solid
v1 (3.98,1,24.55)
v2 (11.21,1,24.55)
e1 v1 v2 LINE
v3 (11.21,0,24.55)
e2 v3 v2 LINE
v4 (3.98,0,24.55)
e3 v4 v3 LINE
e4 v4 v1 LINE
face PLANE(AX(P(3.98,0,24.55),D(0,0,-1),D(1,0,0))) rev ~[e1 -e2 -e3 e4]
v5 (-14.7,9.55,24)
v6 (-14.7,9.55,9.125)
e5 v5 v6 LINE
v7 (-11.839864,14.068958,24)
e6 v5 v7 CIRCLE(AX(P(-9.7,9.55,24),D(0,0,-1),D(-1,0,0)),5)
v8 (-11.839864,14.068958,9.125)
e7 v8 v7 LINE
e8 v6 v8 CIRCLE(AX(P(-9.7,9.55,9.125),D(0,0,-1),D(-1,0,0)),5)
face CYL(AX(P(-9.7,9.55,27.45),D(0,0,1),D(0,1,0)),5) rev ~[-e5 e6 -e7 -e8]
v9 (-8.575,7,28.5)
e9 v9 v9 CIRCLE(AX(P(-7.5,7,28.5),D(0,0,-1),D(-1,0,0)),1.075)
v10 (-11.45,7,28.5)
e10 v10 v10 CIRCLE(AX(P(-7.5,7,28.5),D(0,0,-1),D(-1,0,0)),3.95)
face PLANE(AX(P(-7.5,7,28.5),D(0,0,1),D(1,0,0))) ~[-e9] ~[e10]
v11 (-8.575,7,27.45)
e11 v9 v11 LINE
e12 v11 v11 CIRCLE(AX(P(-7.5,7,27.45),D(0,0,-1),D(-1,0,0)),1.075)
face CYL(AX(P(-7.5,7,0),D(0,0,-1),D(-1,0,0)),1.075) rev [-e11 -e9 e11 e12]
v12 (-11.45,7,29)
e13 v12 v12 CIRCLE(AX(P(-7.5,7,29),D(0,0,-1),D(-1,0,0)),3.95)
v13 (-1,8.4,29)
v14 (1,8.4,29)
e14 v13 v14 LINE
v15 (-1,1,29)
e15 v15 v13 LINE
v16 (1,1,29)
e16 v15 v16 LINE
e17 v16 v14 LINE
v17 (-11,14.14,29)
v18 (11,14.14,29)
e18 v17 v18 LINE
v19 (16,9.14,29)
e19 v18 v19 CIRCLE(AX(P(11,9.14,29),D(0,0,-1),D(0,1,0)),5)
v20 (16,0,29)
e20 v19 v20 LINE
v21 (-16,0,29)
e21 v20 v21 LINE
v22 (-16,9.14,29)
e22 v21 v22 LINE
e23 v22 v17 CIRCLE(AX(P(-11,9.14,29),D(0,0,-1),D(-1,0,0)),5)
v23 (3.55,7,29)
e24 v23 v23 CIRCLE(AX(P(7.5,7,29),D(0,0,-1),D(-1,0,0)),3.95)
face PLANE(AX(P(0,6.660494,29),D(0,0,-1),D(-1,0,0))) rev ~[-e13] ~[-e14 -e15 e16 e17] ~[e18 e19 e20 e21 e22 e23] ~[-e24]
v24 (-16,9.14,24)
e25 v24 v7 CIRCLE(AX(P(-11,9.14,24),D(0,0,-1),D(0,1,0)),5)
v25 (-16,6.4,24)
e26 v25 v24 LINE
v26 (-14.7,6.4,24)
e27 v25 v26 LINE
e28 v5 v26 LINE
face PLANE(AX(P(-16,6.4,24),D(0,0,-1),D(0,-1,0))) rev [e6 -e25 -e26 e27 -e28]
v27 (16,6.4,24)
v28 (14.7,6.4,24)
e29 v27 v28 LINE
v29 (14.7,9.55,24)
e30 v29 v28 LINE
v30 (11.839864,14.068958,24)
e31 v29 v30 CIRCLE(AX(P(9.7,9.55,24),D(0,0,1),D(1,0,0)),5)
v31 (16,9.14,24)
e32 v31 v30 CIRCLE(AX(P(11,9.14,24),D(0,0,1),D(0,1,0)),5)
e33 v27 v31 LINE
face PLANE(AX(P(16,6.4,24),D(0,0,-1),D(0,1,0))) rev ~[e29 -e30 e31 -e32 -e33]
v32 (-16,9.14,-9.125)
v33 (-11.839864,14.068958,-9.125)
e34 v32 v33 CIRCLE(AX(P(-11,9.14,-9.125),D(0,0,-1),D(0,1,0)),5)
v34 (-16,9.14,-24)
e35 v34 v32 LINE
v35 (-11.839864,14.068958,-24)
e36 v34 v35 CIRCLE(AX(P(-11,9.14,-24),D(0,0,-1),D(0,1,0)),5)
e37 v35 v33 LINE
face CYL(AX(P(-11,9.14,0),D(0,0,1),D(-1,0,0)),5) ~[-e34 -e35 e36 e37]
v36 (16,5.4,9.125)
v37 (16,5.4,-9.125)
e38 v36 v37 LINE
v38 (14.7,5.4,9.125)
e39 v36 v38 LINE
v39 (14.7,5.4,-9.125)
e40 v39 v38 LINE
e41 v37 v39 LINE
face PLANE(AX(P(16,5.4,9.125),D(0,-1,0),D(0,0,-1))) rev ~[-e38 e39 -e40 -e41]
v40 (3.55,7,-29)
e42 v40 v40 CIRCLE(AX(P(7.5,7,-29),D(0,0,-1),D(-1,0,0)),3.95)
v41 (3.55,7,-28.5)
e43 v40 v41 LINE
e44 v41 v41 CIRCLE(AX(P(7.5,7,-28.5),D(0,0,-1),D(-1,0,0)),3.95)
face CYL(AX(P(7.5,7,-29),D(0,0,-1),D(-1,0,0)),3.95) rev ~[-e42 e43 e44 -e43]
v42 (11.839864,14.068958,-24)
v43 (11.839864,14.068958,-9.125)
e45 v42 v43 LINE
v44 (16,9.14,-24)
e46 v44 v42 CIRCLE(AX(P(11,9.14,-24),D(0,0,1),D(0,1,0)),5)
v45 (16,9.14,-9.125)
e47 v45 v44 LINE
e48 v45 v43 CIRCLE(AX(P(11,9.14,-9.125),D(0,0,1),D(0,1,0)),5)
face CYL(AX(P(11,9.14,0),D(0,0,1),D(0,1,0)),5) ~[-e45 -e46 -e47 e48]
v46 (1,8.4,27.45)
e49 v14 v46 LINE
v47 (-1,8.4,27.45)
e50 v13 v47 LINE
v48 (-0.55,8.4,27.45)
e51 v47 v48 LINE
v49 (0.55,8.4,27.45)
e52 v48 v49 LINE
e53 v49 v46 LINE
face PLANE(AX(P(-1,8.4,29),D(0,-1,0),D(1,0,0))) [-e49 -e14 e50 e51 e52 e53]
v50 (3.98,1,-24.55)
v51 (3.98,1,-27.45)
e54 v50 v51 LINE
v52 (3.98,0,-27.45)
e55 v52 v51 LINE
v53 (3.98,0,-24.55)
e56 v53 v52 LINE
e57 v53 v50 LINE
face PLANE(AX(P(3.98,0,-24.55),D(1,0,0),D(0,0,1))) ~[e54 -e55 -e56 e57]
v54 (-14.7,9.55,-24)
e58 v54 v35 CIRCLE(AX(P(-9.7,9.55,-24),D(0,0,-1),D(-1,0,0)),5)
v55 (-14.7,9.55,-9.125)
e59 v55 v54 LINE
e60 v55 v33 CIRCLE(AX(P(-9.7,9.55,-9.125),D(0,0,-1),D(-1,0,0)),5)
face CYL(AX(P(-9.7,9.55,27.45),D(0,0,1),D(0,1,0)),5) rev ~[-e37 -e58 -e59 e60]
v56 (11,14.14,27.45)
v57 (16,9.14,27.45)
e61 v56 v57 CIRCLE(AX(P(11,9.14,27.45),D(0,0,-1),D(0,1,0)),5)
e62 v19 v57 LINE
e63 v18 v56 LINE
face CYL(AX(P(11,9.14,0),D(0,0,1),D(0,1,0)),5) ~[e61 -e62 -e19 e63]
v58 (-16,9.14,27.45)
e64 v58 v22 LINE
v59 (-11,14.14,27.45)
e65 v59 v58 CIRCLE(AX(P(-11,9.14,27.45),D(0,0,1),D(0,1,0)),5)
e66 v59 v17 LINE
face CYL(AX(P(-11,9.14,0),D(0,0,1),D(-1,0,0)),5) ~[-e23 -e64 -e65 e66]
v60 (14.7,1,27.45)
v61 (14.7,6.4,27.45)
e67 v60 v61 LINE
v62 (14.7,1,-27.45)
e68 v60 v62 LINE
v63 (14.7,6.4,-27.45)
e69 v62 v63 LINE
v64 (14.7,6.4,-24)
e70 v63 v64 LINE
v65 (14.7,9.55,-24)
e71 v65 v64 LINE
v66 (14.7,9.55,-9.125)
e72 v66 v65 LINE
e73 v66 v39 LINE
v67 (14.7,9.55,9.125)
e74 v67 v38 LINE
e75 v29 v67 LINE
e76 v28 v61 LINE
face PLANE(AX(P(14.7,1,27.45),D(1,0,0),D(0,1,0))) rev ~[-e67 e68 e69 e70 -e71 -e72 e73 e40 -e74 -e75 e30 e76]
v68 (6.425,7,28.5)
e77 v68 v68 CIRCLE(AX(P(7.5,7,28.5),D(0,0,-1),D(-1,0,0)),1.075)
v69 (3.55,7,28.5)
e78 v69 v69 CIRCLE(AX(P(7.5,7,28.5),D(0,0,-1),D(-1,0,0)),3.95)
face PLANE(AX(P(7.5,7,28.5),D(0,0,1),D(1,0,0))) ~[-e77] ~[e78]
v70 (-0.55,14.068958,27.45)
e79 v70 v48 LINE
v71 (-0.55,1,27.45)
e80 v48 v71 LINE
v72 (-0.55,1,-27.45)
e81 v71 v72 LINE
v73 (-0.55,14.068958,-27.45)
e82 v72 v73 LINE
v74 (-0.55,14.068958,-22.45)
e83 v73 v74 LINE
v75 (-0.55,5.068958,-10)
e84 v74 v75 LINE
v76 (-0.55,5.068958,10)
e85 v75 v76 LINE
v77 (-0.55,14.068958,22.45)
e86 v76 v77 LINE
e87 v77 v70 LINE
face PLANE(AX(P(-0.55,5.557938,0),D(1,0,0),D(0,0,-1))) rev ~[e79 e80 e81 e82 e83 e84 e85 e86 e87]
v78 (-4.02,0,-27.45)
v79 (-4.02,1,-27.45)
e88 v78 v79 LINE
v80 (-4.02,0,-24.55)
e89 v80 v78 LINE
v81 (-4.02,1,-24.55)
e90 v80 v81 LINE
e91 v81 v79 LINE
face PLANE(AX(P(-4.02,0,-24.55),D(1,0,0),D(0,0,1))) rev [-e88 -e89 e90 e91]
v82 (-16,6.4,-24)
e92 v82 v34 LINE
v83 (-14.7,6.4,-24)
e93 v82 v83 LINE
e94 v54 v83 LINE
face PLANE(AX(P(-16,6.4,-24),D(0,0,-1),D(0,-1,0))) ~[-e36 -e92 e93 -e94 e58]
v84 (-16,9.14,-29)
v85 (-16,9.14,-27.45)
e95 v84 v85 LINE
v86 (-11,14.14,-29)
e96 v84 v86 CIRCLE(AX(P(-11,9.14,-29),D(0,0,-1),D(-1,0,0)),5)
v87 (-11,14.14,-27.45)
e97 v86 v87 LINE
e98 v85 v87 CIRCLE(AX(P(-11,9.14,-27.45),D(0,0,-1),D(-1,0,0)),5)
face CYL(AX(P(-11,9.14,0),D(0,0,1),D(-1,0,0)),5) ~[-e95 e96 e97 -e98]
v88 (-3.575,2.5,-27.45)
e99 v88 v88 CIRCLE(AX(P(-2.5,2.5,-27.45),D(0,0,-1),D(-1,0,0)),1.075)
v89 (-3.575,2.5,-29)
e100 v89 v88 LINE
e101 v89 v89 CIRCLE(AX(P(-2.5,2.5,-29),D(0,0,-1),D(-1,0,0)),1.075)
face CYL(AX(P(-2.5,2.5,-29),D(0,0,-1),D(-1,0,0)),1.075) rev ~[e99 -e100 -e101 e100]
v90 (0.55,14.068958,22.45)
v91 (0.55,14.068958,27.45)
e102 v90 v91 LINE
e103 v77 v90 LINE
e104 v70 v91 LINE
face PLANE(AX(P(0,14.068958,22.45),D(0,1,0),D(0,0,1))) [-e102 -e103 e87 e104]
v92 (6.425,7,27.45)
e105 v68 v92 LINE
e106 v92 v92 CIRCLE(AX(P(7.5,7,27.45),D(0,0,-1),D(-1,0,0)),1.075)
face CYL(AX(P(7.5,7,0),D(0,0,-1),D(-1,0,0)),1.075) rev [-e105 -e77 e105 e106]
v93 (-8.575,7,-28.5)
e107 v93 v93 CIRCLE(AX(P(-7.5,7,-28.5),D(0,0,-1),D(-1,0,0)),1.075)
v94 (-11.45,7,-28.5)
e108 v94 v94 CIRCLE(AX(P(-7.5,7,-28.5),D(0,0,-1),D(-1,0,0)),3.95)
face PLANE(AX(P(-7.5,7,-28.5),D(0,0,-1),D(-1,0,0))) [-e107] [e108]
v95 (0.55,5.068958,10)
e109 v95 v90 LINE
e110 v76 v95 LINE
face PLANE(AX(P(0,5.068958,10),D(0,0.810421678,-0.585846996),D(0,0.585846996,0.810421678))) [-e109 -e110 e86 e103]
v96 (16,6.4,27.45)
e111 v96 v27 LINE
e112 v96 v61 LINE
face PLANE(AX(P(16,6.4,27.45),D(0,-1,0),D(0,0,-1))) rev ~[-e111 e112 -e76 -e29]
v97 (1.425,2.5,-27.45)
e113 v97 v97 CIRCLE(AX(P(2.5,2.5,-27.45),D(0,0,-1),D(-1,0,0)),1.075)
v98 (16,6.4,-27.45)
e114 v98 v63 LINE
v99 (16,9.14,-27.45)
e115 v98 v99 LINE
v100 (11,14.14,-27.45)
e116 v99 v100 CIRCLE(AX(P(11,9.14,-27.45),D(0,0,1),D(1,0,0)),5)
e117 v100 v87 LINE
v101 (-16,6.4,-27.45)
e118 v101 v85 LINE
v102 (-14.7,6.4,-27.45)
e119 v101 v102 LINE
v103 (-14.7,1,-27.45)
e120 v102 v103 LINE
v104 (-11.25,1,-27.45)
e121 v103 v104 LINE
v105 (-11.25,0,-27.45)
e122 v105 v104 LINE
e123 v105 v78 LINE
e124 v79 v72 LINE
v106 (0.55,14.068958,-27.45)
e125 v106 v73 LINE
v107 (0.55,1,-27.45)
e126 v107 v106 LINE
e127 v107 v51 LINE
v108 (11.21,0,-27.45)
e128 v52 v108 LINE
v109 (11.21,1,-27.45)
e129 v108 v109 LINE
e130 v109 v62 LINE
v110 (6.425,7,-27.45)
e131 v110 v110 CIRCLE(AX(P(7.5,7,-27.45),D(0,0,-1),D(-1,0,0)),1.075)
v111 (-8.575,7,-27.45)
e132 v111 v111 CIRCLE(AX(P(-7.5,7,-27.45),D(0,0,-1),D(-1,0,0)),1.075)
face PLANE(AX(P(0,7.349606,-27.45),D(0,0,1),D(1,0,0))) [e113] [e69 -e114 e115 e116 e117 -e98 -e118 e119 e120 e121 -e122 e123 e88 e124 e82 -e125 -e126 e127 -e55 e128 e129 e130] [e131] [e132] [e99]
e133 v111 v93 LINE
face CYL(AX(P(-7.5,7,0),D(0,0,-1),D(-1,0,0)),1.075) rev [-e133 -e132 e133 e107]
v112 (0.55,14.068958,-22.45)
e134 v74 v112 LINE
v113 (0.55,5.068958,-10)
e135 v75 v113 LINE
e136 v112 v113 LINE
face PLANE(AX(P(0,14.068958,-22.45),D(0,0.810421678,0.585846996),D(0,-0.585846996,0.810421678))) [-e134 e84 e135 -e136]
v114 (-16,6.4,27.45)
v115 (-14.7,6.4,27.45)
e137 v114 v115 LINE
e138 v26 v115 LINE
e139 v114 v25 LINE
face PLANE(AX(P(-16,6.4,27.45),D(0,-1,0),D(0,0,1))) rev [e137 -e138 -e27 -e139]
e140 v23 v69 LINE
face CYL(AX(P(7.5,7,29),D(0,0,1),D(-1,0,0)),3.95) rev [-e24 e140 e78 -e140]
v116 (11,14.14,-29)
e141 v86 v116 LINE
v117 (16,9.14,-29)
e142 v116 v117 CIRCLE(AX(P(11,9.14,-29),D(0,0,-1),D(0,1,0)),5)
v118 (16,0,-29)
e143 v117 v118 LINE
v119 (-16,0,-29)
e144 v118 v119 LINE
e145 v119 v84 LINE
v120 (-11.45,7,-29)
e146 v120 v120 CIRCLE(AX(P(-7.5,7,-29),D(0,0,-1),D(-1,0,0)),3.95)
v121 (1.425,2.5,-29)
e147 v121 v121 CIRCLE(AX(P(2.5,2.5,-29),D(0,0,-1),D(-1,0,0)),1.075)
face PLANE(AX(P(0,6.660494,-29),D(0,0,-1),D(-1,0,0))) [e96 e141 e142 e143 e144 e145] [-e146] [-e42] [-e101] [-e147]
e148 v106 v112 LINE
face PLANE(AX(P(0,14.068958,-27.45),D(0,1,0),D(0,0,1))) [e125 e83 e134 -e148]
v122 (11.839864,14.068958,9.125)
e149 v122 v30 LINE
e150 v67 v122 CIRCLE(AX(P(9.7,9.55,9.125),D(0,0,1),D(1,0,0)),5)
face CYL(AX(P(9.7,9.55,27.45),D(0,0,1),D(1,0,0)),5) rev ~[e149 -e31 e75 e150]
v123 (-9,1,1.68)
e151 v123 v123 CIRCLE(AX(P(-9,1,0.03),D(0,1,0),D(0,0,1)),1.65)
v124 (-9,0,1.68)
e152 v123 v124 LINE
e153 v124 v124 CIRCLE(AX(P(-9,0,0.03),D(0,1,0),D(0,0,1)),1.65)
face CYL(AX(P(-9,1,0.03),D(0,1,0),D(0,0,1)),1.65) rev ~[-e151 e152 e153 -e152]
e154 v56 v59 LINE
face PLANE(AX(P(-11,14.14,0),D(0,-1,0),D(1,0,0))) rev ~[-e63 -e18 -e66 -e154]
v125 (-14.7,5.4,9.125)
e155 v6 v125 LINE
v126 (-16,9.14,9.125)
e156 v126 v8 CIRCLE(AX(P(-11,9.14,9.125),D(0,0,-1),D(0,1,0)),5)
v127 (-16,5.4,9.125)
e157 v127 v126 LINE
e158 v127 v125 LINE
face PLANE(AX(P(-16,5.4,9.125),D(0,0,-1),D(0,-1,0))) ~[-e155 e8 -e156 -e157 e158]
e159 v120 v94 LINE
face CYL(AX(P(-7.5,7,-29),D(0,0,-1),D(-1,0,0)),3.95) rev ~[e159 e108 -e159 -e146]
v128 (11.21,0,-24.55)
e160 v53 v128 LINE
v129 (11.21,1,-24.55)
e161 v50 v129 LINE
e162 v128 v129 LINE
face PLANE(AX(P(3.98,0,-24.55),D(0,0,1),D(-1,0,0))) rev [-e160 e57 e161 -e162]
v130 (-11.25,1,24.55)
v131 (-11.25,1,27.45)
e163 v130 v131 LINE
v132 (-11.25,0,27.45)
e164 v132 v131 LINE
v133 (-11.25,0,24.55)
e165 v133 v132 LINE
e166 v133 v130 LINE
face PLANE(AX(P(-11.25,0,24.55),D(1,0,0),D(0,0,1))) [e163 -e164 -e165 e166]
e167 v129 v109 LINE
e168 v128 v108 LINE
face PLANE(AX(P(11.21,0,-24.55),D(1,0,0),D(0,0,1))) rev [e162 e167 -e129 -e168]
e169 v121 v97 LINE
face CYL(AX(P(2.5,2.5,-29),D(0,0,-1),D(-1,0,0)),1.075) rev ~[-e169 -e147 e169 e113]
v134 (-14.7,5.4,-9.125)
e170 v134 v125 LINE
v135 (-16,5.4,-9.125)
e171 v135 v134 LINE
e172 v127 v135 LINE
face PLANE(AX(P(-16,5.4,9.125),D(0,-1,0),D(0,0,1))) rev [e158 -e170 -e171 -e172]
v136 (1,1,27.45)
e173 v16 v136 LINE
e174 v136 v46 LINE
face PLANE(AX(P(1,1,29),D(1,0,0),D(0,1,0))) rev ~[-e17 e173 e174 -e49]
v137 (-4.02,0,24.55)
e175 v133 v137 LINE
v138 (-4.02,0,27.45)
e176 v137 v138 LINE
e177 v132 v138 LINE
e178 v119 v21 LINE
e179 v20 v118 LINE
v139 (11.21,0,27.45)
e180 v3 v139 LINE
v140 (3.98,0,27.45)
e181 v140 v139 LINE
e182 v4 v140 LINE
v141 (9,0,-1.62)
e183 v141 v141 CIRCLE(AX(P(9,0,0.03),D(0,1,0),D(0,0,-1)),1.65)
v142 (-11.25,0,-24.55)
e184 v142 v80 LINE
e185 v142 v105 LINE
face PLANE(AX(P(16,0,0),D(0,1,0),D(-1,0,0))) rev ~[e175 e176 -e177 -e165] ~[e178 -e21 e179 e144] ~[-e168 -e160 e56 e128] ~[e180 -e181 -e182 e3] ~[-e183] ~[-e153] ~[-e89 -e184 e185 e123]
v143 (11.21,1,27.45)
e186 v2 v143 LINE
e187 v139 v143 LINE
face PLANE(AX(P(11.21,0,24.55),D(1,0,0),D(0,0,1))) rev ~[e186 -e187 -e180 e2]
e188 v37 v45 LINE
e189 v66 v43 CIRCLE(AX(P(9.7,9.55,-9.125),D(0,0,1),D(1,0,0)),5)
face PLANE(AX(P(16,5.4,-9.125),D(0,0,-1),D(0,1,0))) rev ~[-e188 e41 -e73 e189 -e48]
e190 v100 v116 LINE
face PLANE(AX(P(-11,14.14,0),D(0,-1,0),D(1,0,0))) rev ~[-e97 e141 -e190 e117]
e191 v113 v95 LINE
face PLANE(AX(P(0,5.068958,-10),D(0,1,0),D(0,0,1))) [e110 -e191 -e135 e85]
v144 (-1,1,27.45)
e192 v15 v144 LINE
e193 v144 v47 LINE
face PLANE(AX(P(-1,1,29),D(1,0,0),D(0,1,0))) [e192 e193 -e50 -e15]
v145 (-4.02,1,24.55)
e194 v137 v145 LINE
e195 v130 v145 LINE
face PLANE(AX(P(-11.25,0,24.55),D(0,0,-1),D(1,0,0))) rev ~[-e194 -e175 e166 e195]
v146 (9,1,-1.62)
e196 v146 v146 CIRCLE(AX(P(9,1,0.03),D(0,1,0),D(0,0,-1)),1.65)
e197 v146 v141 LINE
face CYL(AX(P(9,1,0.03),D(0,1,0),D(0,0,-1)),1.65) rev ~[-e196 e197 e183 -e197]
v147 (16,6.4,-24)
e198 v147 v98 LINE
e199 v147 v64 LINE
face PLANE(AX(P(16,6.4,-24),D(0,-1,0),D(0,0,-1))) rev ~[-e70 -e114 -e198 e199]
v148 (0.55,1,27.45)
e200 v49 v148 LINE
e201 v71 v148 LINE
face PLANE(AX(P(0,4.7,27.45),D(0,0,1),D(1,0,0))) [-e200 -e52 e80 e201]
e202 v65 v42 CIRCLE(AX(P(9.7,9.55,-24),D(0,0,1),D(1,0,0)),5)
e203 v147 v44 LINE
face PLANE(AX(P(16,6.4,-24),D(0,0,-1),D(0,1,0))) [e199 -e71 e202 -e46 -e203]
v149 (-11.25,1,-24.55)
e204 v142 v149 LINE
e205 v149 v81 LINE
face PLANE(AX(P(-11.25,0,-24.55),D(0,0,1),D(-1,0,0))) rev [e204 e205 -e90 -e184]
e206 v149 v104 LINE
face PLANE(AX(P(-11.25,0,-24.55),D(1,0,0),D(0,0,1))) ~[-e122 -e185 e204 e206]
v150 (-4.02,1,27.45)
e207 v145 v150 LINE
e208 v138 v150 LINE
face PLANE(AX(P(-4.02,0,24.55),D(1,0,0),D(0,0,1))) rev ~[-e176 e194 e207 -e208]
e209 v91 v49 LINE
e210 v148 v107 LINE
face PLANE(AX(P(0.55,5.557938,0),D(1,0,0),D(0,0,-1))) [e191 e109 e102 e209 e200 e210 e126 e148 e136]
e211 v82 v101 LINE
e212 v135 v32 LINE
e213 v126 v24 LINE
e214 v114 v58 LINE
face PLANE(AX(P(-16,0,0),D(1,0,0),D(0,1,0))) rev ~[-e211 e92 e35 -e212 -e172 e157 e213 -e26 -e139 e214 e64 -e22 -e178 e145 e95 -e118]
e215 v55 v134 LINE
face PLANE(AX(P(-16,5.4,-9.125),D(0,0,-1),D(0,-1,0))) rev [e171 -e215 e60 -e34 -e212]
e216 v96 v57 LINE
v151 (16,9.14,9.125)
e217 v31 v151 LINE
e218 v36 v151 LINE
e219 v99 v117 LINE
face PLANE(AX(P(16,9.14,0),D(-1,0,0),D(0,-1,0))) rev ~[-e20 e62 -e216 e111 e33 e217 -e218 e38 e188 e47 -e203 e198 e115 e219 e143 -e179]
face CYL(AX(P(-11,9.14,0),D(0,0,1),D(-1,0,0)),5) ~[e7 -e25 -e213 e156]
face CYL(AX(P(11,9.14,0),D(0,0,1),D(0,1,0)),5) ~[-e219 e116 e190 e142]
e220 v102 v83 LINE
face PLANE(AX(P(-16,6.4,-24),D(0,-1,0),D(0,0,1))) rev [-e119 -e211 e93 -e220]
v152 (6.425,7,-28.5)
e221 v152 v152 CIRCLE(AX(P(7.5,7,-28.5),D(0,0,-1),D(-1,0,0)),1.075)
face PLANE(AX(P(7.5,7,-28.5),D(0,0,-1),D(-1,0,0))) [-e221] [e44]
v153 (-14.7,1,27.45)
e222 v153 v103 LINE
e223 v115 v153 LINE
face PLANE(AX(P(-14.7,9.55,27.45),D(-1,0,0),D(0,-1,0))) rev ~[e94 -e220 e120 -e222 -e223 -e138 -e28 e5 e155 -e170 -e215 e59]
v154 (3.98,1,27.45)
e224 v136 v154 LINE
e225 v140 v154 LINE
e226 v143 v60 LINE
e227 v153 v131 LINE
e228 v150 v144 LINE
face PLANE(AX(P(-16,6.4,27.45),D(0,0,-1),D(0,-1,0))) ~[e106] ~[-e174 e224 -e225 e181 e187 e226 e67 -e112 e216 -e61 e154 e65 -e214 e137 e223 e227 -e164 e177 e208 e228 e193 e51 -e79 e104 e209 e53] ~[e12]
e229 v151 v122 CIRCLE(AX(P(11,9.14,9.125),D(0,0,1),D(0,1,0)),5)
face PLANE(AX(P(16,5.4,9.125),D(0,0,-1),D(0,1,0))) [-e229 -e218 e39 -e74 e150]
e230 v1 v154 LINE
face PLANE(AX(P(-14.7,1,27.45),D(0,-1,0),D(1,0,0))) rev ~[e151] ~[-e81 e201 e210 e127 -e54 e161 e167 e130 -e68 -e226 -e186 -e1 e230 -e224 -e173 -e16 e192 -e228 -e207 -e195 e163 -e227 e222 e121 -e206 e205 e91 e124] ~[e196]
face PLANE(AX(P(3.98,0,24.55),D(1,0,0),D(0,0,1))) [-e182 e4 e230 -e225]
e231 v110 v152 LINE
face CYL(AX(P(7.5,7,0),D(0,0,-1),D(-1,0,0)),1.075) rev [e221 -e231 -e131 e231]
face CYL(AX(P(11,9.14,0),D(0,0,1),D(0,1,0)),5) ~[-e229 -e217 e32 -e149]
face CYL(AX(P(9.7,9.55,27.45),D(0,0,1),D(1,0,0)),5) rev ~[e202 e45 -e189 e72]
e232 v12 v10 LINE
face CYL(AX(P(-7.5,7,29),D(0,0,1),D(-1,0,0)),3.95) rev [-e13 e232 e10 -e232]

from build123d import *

# Parameters (mm, degrees)
SKETCH1_R           = 1.075
BOSS_EXTRUDE1_DEPTH = 29
CUT_EXTRUDE7_START  = -1.55
CUT_EXTRUDE7_DEPTH  = 54.9
BOSS_EXTRUDE2_DEPTH = 0.55
CUT_EXTRUDE8_REACH  = 47.442
SKETCH4_W           = 3.45
SKETCH4_H           = 15
SKETCH4_W_2         = 18.25
SKETCH4_H_2         = 16
SKETCH5_R           = 3.95
CUT_EXTRUDE9_DEPTH  = 0.5
SKETCH6_R           = 1.65
CUT_EXTRUDE10_DEPTH = 36.632283115
SKETCH10_W          = 2
SKETCH10_H          = 7.4
CUT_EXTRUDE11_DEPTH = 1.55
SKETCH12_R          = 1.075
CUT_EXTRUDE12_DEPTH = 1.55
SKETCH14_W          = 7.23
SKETCH14_H          = 2.9
CUT_EXTRUDE13_DEPTH = 1


with BuildPart() as part:
    # Sketch1 → Boss-Extrude1 (new, symmetric)
    with BuildSketch(Plane.XY):
        with BuildLine():
            Line((-11, 14.14), (11, 14.14))
            ThreePointArc((11, 14.14), (14.535533906, 12.675533906), (16, 9.14))
            Line((16, 9.14), (16, 0))
            Line((16, 0), (-16, 0))
            Line((-16, 0), (-16, 9.14))
            ThreePointArc((-16, 9.14), (-14.535533906, 12.675533906), (-11, 14.14))
        make_face()
        with Locations(Location((-7.5, 7, 0), (0, 0, 180))):
            Circle(SKETCH1_R, mode=Mode.SUBTRACT)
        with Locations(Location((7.5, 7, 0), (0, 0, 180))):
            Circle(SKETCH1_R, mode=Mode.SUBTRACT)
    extrude(amount=BOSS_EXTRUDE1_DEPTH, both=True)

    # Sketch2 → Cut-Extrude7 (cut)
    with BuildSketch(Plane.XY.offset(29).offset(CUT_EXTRUDE7_START)):
        with BuildLine():
            Line((-14.7, 1), (14.7, 1))
            Line((14.7, 1), (14.7, 9.55))
            ThreePointArc((14.7, 9.55), (13.235533906, 13.085533906), (9.7, 14.55))
            Line((9.7, 14.55), (-9.7, 14.55))
            ThreePointArc((-9.7, 14.55), (-13.235533906, 13.085533906), (-14.7, 9.55))
            Line((-14.7, 9.55), (-14.7, 1))
        make_face()
    extrude(amount=-CUT_EXTRUDE7_DEPTH, mode=Mode.SUBTRACT)

    # Sketch3 → Boss-Extrude2 (add, symmetric)
    with BuildSketch(Plane(origin=(0, 0, 0), x_dir=(0, 0, -1), z_dir=(1, 0, 0))):
        Polygon((27.45, 14.068958196), (22.45, 14.068958196), (10, 5.068958196), (-10, 5.068958196), (-22.45, 14.068958196), (-27.45, 14.068958196), (-27.45, 1), (27.45, 1), align=None)
    extrude(amount=BOSS_EXTRUDE2_DEPTH, both=True)

    # Sketch4 → Cut-Extrude8 (cut, up to next)
    with BuildSketch(Plane(origin=(16, 0, 0), x_dir=(0, 0, -1), z_dir=(1, 0, 0)), mode=Mode.PRIVATE) as cut_extrude8_sk1:
        with Locations((-25.725, 13.9)):
            Rectangle(SKETCH4_W, SKETCH4_H)
    cut_extrude8_tool1 = extrude(cut_extrude8_sk1.sketch, amount=-CUT_EXTRUDE8_REACH, mode=Mode.PRIVATE) & part.part
    # Sketch4 → Cut-Extrude8 (cut, up to next)
    with BuildSketch(Plane(origin=(16, 0, 0), x_dir=(0, 0, -1), z_dir=(1, 0, 0)), mode=Mode.PRIVATE) as cut_extrude8_sk2:
        with Locations((0, 13.4)):
            Rectangle(SKETCH4_W_2, SKETCH4_H_2)
    cut_extrude8_tool2 = extrude(cut_extrude8_sk2.sketch, amount=-CUT_EXTRUDE8_REACH, mode=Mode.PRIVATE) & part.part
    # Sketch4 → Cut-Extrude8 (cut, up to next)
    with BuildSketch(Plane(origin=(16, 0, 0), x_dir=(0, 0, -1), z_dir=(1, 0, 0)), mode=Mode.PRIVATE) as cut_extrude8_sk3:
        with Locations((25.725, 13.9)):
            Rectangle(SKETCH4_W, SKETCH4_H)
    cut_extrude8_tool3 = extrude(cut_extrude8_sk3.sketch, amount=-CUT_EXTRUDE8_REACH, mode=Mode.PRIVATE) & part.part
    cut_extrude8_1 = cut_extrude8_tool1.solids().sort_by_distance((16, 13.9, 25.725))[0]
    add(cut_extrude8_1, mode=Mode.SUBTRACT)
    cut_extrude8_2 = cut_extrude8_tool2.solids().sort_by_distance((16, 13.4, 0))[0]
    add(cut_extrude8_2, mode=Mode.SUBTRACT)
    cut_extrude8_3 = cut_extrude8_tool3.solids().sort_by_distance((16, 13.9, -25.725))[0]
    add(cut_extrude8_3, mode=Mode.SUBTRACT)
    cut_extrude8 = cut_extrude8_1 + cut_extrude8_2 + cut_extrude8_3  # Cut-Extrude8 as one shape, for the pattern or mirror that repeats it

    # Mirror1: Cut-Extrude8 across plane
    add(cut_extrude8.mirror(Plane(origin=(0, 0, 0), x_dir=(0, 0, 1), z_dir=(1, 0, 0))), mode=Mode.SUBTRACT)

    # Sketch5 → Cut-Extrude9 (cut)
    with BuildSketch(Plane(origin=(0, 0, -29), x_dir=(-1, 0, 0), z_dir=(0, 0, -1))):
        with Locations((-7.5, 7)):
            Circle(SKETCH5_R)
        with Locations((7.5, 7)):
            Circle(SKETCH5_R)
    cut_extrude9 = extrude(amount=-CUT_EXTRUDE9_DEPTH, mode=Mode.SUBTRACT)

    # Mirror2: Cut-Extrude9 across plane
    add(cut_extrude9.mirror(Plane.XY), mode=Mode.SUBTRACT)

    # Sketch6 → Cut-Extrude10 (cut, through all)
    with BuildSketch(Plane(origin=(0, 1, 0), x_dir=(1, 0, 0), z_dir=(0, 1, 0))):
        with Locations(Location((-9, -0.03, 0), (0, 0, 270))):
            Circle(SKETCH6_R)
        with Locations(Location((9, -0.03, 0), (0, 0, 90))):
            Circle(SKETCH6_R)
    extrude(amount=-CUT_EXTRUDE10_DEPTH, mode=Mode.SUBTRACT)

    # Sketch10 → Cut-Extrude11 (cut)
    with BuildSketch(Plane.XY.offset(29)):
        with Locations((0, 4.7)):
            Rectangle(SKETCH10_W, SKETCH10_H)
    extrude(amount=-CUT_EXTRUDE11_DEPTH, mode=Mode.SUBTRACT)

    # Sketch12 → Cut-Extrude12 (cut)
    with BuildSketch(Plane(origin=(0, 0, -29), x_dir=(-1, 0, 0), z_dir=(0, 0, -1))):
        with Locations((-2.5, 2.5)):
            Circle(SKETCH12_R)
        with Locations((2.5, 2.5)):
            Circle(SKETCH12_R)
    extrude(amount=-CUT_EXTRUDE12_DEPTH, mode=Mode.SUBTRACT)

    # Sketch14 → Cut-Extrude13 (cut)
    with BuildSketch(Plane.XZ):
        with Locations((-7.635, 26)):
            Rectangle(SKETCH14_W, SKETCH14_H)
        with Locations((7.595, 26)):
            Rectangle(SKETCH14_W, SKETCH14_H)
    cut_extrude13 = extrude(amount=-CUT_EXTRUDE13_DEPTH, mode=Mode.SUBTRACT)

    # Mirror3: Cut-Extrude13 across plane
    add(cut_extrude13.mirror(Plane.XY), mode=Mode.SUBTRACT)


solid = part.part
